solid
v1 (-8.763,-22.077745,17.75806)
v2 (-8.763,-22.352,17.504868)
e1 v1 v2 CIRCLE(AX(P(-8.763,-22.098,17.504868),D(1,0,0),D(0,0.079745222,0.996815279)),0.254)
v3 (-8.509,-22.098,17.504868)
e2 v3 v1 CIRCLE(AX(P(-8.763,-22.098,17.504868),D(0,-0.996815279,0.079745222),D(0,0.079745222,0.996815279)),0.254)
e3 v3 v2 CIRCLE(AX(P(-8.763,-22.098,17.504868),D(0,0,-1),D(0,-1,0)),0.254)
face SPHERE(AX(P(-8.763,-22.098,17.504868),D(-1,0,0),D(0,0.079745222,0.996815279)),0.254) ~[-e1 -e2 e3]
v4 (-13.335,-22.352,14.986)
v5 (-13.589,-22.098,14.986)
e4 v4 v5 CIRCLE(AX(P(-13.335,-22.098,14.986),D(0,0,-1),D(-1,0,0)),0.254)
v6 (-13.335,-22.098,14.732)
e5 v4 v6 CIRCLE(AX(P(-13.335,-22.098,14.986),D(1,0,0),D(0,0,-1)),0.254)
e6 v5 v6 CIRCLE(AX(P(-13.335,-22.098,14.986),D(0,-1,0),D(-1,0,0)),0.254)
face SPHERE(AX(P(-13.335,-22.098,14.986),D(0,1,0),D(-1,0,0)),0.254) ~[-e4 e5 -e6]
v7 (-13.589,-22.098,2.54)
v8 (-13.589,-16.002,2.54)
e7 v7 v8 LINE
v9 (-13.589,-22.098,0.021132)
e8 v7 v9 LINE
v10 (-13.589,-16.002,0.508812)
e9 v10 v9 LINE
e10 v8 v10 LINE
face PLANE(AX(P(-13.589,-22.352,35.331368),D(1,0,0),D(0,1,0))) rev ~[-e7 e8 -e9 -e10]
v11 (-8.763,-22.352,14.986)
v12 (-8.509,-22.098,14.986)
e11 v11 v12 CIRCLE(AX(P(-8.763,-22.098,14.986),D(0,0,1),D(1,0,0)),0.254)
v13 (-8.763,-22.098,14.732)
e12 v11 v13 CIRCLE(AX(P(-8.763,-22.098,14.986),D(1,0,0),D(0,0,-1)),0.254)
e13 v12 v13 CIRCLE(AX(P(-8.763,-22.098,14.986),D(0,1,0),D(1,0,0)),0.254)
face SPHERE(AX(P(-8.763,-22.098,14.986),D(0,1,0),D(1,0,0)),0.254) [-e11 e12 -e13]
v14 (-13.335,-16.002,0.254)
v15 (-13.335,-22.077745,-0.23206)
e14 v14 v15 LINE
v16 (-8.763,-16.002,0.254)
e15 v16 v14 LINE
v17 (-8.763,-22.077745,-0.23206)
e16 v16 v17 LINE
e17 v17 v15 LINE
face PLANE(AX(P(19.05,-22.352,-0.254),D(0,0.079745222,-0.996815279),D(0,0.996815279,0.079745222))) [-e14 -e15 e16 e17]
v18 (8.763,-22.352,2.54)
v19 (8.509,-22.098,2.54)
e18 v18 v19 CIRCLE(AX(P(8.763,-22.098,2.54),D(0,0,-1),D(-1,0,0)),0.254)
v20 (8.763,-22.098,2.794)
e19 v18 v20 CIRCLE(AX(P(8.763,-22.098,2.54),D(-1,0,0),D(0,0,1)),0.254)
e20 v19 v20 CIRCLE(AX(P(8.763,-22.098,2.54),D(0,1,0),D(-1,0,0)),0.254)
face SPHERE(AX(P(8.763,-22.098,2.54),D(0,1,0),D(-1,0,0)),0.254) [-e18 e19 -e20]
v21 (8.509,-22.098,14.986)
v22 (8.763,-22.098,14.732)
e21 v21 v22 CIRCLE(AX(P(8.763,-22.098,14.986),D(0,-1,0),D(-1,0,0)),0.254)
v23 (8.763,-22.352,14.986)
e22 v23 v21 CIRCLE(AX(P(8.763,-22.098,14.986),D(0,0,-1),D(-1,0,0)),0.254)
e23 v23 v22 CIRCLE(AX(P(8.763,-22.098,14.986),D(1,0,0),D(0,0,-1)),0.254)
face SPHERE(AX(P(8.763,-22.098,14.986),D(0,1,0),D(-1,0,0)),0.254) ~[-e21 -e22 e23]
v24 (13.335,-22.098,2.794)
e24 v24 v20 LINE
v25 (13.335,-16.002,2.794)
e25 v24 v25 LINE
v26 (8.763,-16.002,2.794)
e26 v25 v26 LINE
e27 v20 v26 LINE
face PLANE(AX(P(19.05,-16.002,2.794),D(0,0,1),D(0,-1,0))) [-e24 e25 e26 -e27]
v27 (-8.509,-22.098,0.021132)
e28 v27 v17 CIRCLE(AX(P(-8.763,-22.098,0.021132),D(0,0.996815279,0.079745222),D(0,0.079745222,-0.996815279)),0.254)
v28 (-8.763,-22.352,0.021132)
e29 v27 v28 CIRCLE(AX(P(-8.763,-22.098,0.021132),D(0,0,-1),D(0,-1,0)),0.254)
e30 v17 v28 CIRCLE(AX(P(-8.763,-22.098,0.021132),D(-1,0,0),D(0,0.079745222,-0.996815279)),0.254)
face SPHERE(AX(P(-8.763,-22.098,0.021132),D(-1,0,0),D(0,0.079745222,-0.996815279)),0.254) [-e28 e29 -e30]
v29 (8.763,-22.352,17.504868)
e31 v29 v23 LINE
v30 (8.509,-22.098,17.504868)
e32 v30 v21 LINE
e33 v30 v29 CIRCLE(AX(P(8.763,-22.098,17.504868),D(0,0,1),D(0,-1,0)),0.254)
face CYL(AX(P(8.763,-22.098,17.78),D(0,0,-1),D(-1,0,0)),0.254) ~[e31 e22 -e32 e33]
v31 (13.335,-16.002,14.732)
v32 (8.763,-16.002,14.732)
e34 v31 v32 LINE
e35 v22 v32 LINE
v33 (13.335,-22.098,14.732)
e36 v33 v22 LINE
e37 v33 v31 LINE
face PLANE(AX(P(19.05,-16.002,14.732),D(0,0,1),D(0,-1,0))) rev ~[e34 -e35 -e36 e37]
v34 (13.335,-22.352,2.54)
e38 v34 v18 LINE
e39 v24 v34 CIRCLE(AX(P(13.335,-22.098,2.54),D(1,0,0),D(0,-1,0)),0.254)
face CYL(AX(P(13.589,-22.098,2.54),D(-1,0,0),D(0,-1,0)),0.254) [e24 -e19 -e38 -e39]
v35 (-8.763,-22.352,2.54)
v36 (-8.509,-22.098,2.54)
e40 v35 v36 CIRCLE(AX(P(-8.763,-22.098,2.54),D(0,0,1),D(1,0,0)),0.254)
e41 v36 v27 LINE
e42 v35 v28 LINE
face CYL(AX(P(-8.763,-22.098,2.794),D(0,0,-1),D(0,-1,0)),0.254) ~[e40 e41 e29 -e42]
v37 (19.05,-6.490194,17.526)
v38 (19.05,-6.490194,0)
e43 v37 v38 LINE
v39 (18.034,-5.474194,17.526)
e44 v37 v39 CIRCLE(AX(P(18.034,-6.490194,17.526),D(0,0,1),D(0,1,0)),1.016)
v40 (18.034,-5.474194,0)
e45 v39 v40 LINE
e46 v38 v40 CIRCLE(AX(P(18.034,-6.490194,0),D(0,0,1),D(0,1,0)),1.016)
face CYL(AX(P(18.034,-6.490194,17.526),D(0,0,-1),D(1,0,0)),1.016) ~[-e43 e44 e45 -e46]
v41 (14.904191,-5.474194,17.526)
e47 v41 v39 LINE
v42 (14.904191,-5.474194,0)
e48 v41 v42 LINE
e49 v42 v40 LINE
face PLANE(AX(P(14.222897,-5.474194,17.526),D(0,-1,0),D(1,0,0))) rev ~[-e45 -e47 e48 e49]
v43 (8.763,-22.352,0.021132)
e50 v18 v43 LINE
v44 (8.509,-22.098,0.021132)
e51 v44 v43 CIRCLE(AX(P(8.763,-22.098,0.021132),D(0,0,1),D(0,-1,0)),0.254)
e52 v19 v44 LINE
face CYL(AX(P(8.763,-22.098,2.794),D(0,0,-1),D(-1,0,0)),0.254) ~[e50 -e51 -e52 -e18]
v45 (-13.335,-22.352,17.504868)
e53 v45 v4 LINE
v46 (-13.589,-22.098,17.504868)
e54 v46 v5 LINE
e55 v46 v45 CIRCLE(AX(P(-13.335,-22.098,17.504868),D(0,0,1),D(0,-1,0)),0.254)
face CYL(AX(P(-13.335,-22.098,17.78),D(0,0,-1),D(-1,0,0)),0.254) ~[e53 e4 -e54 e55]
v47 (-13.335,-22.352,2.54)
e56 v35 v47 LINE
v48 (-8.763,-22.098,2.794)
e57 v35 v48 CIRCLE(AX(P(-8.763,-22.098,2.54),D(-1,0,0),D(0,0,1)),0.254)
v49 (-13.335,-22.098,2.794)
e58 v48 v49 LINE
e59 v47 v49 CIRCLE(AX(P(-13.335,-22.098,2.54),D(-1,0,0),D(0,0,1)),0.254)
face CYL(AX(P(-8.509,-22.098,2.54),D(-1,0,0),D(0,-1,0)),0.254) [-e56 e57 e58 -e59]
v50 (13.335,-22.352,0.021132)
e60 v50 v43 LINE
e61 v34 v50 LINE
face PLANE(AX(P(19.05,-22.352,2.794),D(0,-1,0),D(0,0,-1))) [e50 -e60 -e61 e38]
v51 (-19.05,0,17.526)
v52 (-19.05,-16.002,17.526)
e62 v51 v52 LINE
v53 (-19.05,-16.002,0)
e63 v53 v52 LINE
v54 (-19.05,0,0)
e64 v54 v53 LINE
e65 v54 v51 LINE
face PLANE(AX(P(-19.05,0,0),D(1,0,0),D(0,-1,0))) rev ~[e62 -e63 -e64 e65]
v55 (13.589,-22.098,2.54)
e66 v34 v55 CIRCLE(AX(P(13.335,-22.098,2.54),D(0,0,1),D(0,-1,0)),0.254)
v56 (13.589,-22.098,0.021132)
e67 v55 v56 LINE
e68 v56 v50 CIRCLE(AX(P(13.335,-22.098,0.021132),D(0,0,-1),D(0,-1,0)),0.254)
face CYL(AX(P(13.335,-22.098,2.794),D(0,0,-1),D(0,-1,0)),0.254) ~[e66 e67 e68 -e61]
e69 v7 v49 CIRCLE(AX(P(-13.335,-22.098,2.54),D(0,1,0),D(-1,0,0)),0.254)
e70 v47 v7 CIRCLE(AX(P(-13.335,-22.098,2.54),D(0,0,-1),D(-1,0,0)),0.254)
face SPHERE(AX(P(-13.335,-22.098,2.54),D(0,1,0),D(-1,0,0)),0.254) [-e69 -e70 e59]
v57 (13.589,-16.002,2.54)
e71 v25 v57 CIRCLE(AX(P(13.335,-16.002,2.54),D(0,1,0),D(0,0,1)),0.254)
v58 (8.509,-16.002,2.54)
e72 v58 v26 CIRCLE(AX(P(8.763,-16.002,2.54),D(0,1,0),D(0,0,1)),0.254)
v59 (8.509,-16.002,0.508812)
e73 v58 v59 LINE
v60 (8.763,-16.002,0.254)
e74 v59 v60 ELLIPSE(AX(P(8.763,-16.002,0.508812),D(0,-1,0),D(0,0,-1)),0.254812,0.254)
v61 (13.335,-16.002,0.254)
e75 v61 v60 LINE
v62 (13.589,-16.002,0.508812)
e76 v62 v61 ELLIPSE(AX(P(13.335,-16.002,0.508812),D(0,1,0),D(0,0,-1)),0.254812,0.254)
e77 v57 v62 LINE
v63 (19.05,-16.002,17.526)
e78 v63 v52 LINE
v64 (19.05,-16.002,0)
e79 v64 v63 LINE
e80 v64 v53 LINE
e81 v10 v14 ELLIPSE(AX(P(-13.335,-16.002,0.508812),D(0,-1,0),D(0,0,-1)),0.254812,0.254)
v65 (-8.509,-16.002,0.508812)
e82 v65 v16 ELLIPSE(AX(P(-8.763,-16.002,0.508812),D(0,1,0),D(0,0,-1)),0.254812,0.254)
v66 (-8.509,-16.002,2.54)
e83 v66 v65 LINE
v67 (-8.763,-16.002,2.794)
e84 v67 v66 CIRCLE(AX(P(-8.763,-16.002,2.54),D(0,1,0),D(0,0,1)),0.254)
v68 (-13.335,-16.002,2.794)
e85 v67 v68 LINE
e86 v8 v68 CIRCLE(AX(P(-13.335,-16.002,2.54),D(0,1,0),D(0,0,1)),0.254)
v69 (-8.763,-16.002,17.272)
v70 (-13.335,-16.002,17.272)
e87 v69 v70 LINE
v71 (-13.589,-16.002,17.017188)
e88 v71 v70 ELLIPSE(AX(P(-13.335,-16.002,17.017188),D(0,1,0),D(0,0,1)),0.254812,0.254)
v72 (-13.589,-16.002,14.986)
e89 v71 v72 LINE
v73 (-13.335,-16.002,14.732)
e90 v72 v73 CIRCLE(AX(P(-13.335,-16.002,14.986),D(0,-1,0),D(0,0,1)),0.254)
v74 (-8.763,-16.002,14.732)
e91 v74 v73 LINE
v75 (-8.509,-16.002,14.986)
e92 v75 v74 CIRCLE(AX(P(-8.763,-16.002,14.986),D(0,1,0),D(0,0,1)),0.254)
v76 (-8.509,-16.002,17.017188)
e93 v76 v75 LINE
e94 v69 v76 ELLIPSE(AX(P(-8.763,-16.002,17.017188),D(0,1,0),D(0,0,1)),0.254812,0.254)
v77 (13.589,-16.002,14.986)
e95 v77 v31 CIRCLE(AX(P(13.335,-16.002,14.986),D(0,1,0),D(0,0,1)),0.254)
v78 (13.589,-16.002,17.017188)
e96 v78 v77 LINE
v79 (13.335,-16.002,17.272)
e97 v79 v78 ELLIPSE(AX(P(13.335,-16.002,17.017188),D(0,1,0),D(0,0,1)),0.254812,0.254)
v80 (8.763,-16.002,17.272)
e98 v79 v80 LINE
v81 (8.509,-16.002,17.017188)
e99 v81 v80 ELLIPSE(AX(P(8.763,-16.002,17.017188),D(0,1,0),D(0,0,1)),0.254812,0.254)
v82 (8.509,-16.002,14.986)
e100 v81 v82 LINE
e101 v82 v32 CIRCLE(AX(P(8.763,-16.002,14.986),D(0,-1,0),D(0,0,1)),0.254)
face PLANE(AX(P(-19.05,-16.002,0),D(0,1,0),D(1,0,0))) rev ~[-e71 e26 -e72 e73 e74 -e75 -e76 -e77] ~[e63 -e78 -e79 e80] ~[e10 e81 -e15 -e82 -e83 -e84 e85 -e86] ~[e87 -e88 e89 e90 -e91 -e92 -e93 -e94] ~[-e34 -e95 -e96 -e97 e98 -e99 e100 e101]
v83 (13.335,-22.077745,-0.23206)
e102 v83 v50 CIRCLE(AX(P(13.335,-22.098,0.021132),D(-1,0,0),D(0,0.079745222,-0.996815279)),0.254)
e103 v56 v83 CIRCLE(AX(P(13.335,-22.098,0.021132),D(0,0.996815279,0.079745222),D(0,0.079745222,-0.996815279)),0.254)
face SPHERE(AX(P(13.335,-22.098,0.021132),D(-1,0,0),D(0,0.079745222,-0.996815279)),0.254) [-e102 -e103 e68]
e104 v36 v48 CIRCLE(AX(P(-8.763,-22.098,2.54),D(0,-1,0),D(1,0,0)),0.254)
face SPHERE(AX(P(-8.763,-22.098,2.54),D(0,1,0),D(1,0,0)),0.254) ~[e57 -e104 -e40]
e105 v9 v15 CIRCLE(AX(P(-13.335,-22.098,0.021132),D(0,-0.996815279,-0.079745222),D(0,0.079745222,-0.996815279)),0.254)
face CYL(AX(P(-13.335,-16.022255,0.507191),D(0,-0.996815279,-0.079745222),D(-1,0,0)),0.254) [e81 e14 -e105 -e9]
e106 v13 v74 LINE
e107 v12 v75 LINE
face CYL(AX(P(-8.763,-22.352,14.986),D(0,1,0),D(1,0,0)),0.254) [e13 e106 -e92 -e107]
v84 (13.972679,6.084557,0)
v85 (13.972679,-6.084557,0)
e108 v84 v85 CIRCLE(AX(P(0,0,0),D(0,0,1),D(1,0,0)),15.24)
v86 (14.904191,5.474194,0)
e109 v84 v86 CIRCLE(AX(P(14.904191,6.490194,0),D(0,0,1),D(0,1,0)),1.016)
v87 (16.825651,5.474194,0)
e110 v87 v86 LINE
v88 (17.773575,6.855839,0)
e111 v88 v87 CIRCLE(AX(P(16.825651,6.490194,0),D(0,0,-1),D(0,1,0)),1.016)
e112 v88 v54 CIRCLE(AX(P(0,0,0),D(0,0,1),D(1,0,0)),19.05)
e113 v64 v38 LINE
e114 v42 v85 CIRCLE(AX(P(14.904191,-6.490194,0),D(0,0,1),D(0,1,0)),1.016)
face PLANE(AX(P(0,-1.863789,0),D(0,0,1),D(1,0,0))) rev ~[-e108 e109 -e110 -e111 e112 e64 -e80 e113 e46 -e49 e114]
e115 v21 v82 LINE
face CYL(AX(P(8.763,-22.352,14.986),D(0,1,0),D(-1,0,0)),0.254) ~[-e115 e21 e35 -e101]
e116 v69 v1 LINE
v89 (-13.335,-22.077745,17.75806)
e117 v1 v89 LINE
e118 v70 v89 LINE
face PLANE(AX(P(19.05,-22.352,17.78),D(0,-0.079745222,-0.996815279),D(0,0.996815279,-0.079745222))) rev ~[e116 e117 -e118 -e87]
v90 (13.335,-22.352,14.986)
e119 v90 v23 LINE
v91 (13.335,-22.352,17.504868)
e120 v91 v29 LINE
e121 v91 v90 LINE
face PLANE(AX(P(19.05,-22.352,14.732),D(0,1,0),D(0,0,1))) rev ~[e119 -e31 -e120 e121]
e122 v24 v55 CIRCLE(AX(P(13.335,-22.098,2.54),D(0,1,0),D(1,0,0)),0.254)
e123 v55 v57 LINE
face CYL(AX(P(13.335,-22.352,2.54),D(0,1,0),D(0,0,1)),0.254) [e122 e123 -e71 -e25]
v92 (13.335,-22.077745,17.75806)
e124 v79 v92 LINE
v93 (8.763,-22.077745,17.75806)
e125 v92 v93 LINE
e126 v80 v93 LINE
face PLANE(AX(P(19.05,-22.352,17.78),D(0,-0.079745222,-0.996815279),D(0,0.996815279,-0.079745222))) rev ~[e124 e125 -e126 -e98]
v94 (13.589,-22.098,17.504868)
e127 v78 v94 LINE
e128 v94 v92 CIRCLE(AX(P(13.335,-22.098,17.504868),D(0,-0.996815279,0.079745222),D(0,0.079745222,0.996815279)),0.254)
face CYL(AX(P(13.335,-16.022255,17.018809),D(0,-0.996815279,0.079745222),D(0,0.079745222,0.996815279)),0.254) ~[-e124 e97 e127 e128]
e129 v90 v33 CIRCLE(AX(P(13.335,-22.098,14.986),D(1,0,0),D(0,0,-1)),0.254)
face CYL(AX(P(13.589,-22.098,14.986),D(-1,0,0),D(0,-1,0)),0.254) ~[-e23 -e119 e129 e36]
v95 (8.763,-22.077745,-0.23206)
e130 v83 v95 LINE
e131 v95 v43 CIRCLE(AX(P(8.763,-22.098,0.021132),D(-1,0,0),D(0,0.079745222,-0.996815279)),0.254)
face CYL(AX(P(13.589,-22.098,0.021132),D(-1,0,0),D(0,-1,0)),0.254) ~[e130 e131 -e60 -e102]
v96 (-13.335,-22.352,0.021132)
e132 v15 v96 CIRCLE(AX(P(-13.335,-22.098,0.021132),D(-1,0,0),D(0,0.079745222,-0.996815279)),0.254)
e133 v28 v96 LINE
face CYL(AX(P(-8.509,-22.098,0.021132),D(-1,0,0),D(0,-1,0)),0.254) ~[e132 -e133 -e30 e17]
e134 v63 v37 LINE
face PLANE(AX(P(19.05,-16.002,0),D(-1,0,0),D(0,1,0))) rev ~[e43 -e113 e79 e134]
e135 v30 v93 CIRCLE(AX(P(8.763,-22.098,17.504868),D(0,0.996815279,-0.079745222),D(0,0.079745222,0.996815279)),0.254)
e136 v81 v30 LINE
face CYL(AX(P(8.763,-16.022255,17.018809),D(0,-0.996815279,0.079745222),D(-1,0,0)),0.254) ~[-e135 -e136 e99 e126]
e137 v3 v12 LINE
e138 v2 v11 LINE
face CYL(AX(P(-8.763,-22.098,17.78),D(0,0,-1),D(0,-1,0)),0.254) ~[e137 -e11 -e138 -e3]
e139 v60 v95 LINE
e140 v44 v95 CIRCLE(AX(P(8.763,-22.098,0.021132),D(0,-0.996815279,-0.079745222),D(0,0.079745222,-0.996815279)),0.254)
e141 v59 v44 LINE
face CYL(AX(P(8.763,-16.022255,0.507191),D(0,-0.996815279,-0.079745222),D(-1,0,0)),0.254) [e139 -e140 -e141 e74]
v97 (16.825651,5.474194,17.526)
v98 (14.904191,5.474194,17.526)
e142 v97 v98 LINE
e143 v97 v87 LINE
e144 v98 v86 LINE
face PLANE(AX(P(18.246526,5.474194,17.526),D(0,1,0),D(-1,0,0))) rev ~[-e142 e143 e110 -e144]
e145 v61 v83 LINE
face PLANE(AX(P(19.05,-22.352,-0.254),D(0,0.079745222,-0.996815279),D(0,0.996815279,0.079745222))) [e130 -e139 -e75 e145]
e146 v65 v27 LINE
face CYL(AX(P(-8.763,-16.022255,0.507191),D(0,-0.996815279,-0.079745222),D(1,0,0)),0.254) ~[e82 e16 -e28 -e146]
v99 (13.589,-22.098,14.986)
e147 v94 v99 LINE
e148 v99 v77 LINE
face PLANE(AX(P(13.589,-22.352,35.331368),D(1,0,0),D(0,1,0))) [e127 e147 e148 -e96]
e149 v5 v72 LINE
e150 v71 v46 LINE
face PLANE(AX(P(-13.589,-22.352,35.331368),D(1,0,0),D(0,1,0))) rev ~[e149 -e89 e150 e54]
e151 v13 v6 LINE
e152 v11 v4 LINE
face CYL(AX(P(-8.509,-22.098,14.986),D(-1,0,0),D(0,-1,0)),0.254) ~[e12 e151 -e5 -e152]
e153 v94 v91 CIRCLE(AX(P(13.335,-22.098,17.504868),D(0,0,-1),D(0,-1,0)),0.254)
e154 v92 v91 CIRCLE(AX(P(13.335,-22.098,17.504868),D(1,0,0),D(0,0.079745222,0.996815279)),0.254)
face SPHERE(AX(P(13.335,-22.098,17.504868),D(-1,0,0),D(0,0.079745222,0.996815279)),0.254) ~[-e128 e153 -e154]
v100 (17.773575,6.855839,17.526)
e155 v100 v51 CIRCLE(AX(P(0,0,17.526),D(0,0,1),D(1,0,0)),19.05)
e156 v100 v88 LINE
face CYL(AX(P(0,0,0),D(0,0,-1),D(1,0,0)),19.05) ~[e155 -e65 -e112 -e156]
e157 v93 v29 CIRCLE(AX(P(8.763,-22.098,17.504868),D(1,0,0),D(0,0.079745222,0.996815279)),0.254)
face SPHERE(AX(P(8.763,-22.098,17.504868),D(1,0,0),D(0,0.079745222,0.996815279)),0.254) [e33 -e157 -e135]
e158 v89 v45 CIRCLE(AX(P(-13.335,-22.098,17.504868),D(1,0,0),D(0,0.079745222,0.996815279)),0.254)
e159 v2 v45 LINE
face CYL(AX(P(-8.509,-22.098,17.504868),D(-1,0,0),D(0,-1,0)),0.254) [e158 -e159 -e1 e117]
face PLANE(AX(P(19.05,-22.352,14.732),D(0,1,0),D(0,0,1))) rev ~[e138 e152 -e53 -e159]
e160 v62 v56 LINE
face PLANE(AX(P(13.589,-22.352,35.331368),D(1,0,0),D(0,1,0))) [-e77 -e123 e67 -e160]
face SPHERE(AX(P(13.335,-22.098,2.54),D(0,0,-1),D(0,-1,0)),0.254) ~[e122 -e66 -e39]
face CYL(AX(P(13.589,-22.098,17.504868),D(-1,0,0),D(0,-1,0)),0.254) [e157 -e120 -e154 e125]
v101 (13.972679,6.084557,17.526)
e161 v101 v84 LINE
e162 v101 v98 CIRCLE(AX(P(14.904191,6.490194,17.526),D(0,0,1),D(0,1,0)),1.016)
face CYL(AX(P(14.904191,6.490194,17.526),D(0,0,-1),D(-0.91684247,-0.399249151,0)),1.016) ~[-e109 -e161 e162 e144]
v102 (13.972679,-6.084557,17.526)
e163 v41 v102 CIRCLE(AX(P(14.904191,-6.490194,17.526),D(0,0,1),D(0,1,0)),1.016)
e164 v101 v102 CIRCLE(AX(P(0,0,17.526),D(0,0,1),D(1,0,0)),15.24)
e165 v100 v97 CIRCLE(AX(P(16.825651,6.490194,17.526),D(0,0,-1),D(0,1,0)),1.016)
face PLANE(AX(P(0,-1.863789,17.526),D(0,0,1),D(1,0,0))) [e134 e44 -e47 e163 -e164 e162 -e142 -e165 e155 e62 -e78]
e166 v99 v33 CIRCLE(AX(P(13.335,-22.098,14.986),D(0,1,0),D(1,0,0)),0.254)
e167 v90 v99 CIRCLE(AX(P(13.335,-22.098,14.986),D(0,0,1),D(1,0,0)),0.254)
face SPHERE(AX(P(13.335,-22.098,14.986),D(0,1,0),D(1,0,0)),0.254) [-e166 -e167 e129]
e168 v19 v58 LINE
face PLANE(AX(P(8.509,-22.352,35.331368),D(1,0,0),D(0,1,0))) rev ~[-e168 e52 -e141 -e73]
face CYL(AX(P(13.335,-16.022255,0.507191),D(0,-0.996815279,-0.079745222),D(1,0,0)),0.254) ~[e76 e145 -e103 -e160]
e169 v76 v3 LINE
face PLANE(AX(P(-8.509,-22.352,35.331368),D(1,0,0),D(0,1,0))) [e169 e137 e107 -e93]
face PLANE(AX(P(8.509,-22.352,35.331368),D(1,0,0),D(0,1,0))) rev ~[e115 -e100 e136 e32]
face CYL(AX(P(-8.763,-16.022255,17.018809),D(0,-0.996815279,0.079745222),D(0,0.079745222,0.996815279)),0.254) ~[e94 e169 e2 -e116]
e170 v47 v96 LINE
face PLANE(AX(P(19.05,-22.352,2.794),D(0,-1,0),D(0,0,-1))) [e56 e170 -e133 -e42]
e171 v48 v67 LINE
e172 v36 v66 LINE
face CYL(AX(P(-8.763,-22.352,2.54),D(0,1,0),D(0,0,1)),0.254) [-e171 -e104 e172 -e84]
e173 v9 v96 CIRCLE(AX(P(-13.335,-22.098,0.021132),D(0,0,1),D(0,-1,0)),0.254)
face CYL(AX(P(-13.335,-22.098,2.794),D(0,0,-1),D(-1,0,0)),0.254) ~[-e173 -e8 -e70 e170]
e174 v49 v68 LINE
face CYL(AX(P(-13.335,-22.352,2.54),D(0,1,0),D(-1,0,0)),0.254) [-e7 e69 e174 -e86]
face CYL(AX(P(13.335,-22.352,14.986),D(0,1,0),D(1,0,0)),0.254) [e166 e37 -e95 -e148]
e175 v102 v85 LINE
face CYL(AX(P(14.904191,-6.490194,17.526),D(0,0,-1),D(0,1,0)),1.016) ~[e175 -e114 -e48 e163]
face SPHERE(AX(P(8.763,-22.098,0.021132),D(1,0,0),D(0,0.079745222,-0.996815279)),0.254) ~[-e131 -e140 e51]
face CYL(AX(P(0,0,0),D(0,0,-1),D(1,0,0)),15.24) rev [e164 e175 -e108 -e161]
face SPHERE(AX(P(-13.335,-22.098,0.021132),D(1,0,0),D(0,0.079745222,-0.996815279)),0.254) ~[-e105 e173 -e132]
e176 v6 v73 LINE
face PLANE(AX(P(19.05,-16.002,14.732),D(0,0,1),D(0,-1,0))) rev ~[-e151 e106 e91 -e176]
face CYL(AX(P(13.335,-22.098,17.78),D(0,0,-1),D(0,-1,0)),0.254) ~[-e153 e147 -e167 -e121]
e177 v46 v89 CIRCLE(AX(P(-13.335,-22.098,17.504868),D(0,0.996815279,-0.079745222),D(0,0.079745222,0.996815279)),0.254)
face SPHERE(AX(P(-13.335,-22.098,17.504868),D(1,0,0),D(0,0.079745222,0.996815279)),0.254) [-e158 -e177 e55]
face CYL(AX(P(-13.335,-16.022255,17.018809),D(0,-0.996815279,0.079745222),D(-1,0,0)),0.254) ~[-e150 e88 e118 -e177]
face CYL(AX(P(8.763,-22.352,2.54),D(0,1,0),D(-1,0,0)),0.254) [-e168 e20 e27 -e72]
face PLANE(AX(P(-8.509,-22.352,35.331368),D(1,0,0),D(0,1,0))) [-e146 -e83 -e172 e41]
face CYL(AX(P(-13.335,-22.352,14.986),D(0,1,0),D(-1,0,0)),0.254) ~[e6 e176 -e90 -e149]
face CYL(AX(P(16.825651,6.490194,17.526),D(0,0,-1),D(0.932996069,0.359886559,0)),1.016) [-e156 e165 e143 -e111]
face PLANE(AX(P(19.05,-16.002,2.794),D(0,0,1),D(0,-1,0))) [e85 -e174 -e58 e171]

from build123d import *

# Parameters (mm, degrees)
SKETCH1_R               = 15.24
BOSS_EXTRUDE1_DEPTH     = 17.526
CUT_EXTRUDE2_DEPTH      = 33.139783384
BOSS_EXTRUDE2_DEPTH     = 38.1
CUT_EXTRUDE1_DEPTH      = 35.33136764
CUT_EXTRUDE1_DEPTH_BACK = 35.33136764
SKETCH4_W               = 17.018
SKETCH4_H               = 6.35
SKETCH4_W_2             = 5.461
FILLET1_R               = 0.254
FILLET2_R               = 1.016


with BuildPart() as part:
    # Sketch1 → Boss-Extrude1 (new body)
    with BuildSketch(Plane.XY):
        with BuildLine():
            Line((-19.05, 0), (-19.05, -16.002))
            Line((-19.05, -16.002), (19.05, -16.002))
            Line((19.05, -16.002), (19.05, 0))
            ThreePointArc((19.05, 0), (0, 19.05), (-19.05, 0))
        make_face()
        Circle(SKETCH1_R, mode=Mode.SUBTRACT)
    extrude(amount=BOSS_EXTRUDE1_DEPTH)

    # Sketch5 → Cut-Extrude2 (cut, through all)
    with BuildSketch(Plane.XY.offset(17.526)):
        with BuildLine():
            Line((19.05, -5.474194202), (19.05, 0))
            ThreePointArc((19.05, 0), (18.848061086, 2.766422474), (18.246525637, 5.474194202))
            Line((18.246525637, 5.474194202), (14.222896957, 5.474194202))
            ThreePointArc((14.222896957, 5.474194202), (15.24, 0), (14.222896957, -5.474194202))
            Line((14.222896957, -5.474194202), (19.05, -5.474194202))
        make_face()
    extrude(amount=-CUT_EXTRUDE2_DEPTH, mode=Mode.SUBTRACT)

    # Sketch3 → Boss-Extrude2 (add)
    with BuildSketch(Plane(origin=(19.05, 0, 0), x_dir=(0, 0, -1), z_dir=(1, 0, 0))):
        Polygon((-2.794, -16.002), (-2.794, -22.352), (0.254, -22.352), (-0.254, -16.002), align=None)
        Polygon((-14.732, -16.002), (-14.732, -22.352), (-17.78, -22.352), (-17.272, -16.002), align=None)
    extrude(amount=-BOSS_EXTRUDE2_DEPTH)

    # Sketch4 → Cut-Extrude1 (cut, two sides: drawn at the far end of the back side and taken through both)
    with BuildSketch(Plane(origin=(0, 0, 0), x_dir=(-1, 0, 0), z_dir=(0, 0, -1)).offset(-CUT_EXTRUDE1_DEPTH_BACK)):
        with Locations((0, -19.177)):
            Rectangle(SKETCH4_W, SKETCH4_H)
        with Locations((16.3195, -19.177)):
            Rectangle(SKETCH4_W_2, SKETCH4_H)
        with Locations((-16.3195, -19.177)):
            Rectangle(SKETCH4_W_2, SKETCH4_H)
    extrude(amount=CUT_EXTRUDE1_DEPTH + CUT_EXTRUDE1_DEPTH_BACK, mode=Mode.SUBTRACT)

    # Fillet1
    fillet1_edges = [part.edges().sort_by_distance(p)[0] for p in [
        (13.589, -19.177, 14.732),
        (13.589, -22.352, 1.27),
        (13.589, -22.352, 16.256),
        (-13.589, -19.177, 0),
        (-13.589, -19.177, 2.794),
        (-13.589, -19.177, 14.732),
        (-13.589, -22.352, 1.27),
        (-13.589, -22.352, 16.256),
        (8.509, -19.177, 0),
        (8.509, -19.177, 2.794),
        (8.509, -19.177, 14.732),
        (8.509, -22.352, 1.27),
        (-8.509, -19.177, 0),
        (-8.509, -19.177, 2.794),
        (-8.509, -19.177, 14.732),
        (-8.509, -22.352, 1.27),
        (8.509, -22.352, 16.256),
        (-8.509, -22.352, 16.256),
        (-11.049, -22.352, 17.78),
        (11.049, -22.352, 17.78),
        (-8.509, -19.177, 17.526),
        (8.509, -19.177, 17.526),
        (-13.589, -19.177, 17.526),
        (13.589, -19.177, 17.526),
        (-11.049, -22.352, 14.732),
        (11.049, -22.352, 14.732),
        (-11.049, -22.352, 2.794),
        (11.049, -22.352, 2.794),
        (-11.049, -22.352, -0.254),
        (11.049, -22.352, -0.254),
        (13.589, -19.177, 0),
        (13.589, -19.177, 2.794),
    ]]
    fillet(fillet1_edges, radius=FILLET1_R)

    # Fillet2
    fillet2_edges = [part.edges().sort_by_distance(p)[0] for p in [
        (18.246525637, 5.474194202, 8.763),
        (19.05, -5.474194202, 8.763),
        (14.222896957, -5.474194202, 8.763),
        (14.222896957, 5.474194202, 8.763),
    ]]
    fillet(fillet2_edges, radius=FILLET2_R)


solid = part.part
